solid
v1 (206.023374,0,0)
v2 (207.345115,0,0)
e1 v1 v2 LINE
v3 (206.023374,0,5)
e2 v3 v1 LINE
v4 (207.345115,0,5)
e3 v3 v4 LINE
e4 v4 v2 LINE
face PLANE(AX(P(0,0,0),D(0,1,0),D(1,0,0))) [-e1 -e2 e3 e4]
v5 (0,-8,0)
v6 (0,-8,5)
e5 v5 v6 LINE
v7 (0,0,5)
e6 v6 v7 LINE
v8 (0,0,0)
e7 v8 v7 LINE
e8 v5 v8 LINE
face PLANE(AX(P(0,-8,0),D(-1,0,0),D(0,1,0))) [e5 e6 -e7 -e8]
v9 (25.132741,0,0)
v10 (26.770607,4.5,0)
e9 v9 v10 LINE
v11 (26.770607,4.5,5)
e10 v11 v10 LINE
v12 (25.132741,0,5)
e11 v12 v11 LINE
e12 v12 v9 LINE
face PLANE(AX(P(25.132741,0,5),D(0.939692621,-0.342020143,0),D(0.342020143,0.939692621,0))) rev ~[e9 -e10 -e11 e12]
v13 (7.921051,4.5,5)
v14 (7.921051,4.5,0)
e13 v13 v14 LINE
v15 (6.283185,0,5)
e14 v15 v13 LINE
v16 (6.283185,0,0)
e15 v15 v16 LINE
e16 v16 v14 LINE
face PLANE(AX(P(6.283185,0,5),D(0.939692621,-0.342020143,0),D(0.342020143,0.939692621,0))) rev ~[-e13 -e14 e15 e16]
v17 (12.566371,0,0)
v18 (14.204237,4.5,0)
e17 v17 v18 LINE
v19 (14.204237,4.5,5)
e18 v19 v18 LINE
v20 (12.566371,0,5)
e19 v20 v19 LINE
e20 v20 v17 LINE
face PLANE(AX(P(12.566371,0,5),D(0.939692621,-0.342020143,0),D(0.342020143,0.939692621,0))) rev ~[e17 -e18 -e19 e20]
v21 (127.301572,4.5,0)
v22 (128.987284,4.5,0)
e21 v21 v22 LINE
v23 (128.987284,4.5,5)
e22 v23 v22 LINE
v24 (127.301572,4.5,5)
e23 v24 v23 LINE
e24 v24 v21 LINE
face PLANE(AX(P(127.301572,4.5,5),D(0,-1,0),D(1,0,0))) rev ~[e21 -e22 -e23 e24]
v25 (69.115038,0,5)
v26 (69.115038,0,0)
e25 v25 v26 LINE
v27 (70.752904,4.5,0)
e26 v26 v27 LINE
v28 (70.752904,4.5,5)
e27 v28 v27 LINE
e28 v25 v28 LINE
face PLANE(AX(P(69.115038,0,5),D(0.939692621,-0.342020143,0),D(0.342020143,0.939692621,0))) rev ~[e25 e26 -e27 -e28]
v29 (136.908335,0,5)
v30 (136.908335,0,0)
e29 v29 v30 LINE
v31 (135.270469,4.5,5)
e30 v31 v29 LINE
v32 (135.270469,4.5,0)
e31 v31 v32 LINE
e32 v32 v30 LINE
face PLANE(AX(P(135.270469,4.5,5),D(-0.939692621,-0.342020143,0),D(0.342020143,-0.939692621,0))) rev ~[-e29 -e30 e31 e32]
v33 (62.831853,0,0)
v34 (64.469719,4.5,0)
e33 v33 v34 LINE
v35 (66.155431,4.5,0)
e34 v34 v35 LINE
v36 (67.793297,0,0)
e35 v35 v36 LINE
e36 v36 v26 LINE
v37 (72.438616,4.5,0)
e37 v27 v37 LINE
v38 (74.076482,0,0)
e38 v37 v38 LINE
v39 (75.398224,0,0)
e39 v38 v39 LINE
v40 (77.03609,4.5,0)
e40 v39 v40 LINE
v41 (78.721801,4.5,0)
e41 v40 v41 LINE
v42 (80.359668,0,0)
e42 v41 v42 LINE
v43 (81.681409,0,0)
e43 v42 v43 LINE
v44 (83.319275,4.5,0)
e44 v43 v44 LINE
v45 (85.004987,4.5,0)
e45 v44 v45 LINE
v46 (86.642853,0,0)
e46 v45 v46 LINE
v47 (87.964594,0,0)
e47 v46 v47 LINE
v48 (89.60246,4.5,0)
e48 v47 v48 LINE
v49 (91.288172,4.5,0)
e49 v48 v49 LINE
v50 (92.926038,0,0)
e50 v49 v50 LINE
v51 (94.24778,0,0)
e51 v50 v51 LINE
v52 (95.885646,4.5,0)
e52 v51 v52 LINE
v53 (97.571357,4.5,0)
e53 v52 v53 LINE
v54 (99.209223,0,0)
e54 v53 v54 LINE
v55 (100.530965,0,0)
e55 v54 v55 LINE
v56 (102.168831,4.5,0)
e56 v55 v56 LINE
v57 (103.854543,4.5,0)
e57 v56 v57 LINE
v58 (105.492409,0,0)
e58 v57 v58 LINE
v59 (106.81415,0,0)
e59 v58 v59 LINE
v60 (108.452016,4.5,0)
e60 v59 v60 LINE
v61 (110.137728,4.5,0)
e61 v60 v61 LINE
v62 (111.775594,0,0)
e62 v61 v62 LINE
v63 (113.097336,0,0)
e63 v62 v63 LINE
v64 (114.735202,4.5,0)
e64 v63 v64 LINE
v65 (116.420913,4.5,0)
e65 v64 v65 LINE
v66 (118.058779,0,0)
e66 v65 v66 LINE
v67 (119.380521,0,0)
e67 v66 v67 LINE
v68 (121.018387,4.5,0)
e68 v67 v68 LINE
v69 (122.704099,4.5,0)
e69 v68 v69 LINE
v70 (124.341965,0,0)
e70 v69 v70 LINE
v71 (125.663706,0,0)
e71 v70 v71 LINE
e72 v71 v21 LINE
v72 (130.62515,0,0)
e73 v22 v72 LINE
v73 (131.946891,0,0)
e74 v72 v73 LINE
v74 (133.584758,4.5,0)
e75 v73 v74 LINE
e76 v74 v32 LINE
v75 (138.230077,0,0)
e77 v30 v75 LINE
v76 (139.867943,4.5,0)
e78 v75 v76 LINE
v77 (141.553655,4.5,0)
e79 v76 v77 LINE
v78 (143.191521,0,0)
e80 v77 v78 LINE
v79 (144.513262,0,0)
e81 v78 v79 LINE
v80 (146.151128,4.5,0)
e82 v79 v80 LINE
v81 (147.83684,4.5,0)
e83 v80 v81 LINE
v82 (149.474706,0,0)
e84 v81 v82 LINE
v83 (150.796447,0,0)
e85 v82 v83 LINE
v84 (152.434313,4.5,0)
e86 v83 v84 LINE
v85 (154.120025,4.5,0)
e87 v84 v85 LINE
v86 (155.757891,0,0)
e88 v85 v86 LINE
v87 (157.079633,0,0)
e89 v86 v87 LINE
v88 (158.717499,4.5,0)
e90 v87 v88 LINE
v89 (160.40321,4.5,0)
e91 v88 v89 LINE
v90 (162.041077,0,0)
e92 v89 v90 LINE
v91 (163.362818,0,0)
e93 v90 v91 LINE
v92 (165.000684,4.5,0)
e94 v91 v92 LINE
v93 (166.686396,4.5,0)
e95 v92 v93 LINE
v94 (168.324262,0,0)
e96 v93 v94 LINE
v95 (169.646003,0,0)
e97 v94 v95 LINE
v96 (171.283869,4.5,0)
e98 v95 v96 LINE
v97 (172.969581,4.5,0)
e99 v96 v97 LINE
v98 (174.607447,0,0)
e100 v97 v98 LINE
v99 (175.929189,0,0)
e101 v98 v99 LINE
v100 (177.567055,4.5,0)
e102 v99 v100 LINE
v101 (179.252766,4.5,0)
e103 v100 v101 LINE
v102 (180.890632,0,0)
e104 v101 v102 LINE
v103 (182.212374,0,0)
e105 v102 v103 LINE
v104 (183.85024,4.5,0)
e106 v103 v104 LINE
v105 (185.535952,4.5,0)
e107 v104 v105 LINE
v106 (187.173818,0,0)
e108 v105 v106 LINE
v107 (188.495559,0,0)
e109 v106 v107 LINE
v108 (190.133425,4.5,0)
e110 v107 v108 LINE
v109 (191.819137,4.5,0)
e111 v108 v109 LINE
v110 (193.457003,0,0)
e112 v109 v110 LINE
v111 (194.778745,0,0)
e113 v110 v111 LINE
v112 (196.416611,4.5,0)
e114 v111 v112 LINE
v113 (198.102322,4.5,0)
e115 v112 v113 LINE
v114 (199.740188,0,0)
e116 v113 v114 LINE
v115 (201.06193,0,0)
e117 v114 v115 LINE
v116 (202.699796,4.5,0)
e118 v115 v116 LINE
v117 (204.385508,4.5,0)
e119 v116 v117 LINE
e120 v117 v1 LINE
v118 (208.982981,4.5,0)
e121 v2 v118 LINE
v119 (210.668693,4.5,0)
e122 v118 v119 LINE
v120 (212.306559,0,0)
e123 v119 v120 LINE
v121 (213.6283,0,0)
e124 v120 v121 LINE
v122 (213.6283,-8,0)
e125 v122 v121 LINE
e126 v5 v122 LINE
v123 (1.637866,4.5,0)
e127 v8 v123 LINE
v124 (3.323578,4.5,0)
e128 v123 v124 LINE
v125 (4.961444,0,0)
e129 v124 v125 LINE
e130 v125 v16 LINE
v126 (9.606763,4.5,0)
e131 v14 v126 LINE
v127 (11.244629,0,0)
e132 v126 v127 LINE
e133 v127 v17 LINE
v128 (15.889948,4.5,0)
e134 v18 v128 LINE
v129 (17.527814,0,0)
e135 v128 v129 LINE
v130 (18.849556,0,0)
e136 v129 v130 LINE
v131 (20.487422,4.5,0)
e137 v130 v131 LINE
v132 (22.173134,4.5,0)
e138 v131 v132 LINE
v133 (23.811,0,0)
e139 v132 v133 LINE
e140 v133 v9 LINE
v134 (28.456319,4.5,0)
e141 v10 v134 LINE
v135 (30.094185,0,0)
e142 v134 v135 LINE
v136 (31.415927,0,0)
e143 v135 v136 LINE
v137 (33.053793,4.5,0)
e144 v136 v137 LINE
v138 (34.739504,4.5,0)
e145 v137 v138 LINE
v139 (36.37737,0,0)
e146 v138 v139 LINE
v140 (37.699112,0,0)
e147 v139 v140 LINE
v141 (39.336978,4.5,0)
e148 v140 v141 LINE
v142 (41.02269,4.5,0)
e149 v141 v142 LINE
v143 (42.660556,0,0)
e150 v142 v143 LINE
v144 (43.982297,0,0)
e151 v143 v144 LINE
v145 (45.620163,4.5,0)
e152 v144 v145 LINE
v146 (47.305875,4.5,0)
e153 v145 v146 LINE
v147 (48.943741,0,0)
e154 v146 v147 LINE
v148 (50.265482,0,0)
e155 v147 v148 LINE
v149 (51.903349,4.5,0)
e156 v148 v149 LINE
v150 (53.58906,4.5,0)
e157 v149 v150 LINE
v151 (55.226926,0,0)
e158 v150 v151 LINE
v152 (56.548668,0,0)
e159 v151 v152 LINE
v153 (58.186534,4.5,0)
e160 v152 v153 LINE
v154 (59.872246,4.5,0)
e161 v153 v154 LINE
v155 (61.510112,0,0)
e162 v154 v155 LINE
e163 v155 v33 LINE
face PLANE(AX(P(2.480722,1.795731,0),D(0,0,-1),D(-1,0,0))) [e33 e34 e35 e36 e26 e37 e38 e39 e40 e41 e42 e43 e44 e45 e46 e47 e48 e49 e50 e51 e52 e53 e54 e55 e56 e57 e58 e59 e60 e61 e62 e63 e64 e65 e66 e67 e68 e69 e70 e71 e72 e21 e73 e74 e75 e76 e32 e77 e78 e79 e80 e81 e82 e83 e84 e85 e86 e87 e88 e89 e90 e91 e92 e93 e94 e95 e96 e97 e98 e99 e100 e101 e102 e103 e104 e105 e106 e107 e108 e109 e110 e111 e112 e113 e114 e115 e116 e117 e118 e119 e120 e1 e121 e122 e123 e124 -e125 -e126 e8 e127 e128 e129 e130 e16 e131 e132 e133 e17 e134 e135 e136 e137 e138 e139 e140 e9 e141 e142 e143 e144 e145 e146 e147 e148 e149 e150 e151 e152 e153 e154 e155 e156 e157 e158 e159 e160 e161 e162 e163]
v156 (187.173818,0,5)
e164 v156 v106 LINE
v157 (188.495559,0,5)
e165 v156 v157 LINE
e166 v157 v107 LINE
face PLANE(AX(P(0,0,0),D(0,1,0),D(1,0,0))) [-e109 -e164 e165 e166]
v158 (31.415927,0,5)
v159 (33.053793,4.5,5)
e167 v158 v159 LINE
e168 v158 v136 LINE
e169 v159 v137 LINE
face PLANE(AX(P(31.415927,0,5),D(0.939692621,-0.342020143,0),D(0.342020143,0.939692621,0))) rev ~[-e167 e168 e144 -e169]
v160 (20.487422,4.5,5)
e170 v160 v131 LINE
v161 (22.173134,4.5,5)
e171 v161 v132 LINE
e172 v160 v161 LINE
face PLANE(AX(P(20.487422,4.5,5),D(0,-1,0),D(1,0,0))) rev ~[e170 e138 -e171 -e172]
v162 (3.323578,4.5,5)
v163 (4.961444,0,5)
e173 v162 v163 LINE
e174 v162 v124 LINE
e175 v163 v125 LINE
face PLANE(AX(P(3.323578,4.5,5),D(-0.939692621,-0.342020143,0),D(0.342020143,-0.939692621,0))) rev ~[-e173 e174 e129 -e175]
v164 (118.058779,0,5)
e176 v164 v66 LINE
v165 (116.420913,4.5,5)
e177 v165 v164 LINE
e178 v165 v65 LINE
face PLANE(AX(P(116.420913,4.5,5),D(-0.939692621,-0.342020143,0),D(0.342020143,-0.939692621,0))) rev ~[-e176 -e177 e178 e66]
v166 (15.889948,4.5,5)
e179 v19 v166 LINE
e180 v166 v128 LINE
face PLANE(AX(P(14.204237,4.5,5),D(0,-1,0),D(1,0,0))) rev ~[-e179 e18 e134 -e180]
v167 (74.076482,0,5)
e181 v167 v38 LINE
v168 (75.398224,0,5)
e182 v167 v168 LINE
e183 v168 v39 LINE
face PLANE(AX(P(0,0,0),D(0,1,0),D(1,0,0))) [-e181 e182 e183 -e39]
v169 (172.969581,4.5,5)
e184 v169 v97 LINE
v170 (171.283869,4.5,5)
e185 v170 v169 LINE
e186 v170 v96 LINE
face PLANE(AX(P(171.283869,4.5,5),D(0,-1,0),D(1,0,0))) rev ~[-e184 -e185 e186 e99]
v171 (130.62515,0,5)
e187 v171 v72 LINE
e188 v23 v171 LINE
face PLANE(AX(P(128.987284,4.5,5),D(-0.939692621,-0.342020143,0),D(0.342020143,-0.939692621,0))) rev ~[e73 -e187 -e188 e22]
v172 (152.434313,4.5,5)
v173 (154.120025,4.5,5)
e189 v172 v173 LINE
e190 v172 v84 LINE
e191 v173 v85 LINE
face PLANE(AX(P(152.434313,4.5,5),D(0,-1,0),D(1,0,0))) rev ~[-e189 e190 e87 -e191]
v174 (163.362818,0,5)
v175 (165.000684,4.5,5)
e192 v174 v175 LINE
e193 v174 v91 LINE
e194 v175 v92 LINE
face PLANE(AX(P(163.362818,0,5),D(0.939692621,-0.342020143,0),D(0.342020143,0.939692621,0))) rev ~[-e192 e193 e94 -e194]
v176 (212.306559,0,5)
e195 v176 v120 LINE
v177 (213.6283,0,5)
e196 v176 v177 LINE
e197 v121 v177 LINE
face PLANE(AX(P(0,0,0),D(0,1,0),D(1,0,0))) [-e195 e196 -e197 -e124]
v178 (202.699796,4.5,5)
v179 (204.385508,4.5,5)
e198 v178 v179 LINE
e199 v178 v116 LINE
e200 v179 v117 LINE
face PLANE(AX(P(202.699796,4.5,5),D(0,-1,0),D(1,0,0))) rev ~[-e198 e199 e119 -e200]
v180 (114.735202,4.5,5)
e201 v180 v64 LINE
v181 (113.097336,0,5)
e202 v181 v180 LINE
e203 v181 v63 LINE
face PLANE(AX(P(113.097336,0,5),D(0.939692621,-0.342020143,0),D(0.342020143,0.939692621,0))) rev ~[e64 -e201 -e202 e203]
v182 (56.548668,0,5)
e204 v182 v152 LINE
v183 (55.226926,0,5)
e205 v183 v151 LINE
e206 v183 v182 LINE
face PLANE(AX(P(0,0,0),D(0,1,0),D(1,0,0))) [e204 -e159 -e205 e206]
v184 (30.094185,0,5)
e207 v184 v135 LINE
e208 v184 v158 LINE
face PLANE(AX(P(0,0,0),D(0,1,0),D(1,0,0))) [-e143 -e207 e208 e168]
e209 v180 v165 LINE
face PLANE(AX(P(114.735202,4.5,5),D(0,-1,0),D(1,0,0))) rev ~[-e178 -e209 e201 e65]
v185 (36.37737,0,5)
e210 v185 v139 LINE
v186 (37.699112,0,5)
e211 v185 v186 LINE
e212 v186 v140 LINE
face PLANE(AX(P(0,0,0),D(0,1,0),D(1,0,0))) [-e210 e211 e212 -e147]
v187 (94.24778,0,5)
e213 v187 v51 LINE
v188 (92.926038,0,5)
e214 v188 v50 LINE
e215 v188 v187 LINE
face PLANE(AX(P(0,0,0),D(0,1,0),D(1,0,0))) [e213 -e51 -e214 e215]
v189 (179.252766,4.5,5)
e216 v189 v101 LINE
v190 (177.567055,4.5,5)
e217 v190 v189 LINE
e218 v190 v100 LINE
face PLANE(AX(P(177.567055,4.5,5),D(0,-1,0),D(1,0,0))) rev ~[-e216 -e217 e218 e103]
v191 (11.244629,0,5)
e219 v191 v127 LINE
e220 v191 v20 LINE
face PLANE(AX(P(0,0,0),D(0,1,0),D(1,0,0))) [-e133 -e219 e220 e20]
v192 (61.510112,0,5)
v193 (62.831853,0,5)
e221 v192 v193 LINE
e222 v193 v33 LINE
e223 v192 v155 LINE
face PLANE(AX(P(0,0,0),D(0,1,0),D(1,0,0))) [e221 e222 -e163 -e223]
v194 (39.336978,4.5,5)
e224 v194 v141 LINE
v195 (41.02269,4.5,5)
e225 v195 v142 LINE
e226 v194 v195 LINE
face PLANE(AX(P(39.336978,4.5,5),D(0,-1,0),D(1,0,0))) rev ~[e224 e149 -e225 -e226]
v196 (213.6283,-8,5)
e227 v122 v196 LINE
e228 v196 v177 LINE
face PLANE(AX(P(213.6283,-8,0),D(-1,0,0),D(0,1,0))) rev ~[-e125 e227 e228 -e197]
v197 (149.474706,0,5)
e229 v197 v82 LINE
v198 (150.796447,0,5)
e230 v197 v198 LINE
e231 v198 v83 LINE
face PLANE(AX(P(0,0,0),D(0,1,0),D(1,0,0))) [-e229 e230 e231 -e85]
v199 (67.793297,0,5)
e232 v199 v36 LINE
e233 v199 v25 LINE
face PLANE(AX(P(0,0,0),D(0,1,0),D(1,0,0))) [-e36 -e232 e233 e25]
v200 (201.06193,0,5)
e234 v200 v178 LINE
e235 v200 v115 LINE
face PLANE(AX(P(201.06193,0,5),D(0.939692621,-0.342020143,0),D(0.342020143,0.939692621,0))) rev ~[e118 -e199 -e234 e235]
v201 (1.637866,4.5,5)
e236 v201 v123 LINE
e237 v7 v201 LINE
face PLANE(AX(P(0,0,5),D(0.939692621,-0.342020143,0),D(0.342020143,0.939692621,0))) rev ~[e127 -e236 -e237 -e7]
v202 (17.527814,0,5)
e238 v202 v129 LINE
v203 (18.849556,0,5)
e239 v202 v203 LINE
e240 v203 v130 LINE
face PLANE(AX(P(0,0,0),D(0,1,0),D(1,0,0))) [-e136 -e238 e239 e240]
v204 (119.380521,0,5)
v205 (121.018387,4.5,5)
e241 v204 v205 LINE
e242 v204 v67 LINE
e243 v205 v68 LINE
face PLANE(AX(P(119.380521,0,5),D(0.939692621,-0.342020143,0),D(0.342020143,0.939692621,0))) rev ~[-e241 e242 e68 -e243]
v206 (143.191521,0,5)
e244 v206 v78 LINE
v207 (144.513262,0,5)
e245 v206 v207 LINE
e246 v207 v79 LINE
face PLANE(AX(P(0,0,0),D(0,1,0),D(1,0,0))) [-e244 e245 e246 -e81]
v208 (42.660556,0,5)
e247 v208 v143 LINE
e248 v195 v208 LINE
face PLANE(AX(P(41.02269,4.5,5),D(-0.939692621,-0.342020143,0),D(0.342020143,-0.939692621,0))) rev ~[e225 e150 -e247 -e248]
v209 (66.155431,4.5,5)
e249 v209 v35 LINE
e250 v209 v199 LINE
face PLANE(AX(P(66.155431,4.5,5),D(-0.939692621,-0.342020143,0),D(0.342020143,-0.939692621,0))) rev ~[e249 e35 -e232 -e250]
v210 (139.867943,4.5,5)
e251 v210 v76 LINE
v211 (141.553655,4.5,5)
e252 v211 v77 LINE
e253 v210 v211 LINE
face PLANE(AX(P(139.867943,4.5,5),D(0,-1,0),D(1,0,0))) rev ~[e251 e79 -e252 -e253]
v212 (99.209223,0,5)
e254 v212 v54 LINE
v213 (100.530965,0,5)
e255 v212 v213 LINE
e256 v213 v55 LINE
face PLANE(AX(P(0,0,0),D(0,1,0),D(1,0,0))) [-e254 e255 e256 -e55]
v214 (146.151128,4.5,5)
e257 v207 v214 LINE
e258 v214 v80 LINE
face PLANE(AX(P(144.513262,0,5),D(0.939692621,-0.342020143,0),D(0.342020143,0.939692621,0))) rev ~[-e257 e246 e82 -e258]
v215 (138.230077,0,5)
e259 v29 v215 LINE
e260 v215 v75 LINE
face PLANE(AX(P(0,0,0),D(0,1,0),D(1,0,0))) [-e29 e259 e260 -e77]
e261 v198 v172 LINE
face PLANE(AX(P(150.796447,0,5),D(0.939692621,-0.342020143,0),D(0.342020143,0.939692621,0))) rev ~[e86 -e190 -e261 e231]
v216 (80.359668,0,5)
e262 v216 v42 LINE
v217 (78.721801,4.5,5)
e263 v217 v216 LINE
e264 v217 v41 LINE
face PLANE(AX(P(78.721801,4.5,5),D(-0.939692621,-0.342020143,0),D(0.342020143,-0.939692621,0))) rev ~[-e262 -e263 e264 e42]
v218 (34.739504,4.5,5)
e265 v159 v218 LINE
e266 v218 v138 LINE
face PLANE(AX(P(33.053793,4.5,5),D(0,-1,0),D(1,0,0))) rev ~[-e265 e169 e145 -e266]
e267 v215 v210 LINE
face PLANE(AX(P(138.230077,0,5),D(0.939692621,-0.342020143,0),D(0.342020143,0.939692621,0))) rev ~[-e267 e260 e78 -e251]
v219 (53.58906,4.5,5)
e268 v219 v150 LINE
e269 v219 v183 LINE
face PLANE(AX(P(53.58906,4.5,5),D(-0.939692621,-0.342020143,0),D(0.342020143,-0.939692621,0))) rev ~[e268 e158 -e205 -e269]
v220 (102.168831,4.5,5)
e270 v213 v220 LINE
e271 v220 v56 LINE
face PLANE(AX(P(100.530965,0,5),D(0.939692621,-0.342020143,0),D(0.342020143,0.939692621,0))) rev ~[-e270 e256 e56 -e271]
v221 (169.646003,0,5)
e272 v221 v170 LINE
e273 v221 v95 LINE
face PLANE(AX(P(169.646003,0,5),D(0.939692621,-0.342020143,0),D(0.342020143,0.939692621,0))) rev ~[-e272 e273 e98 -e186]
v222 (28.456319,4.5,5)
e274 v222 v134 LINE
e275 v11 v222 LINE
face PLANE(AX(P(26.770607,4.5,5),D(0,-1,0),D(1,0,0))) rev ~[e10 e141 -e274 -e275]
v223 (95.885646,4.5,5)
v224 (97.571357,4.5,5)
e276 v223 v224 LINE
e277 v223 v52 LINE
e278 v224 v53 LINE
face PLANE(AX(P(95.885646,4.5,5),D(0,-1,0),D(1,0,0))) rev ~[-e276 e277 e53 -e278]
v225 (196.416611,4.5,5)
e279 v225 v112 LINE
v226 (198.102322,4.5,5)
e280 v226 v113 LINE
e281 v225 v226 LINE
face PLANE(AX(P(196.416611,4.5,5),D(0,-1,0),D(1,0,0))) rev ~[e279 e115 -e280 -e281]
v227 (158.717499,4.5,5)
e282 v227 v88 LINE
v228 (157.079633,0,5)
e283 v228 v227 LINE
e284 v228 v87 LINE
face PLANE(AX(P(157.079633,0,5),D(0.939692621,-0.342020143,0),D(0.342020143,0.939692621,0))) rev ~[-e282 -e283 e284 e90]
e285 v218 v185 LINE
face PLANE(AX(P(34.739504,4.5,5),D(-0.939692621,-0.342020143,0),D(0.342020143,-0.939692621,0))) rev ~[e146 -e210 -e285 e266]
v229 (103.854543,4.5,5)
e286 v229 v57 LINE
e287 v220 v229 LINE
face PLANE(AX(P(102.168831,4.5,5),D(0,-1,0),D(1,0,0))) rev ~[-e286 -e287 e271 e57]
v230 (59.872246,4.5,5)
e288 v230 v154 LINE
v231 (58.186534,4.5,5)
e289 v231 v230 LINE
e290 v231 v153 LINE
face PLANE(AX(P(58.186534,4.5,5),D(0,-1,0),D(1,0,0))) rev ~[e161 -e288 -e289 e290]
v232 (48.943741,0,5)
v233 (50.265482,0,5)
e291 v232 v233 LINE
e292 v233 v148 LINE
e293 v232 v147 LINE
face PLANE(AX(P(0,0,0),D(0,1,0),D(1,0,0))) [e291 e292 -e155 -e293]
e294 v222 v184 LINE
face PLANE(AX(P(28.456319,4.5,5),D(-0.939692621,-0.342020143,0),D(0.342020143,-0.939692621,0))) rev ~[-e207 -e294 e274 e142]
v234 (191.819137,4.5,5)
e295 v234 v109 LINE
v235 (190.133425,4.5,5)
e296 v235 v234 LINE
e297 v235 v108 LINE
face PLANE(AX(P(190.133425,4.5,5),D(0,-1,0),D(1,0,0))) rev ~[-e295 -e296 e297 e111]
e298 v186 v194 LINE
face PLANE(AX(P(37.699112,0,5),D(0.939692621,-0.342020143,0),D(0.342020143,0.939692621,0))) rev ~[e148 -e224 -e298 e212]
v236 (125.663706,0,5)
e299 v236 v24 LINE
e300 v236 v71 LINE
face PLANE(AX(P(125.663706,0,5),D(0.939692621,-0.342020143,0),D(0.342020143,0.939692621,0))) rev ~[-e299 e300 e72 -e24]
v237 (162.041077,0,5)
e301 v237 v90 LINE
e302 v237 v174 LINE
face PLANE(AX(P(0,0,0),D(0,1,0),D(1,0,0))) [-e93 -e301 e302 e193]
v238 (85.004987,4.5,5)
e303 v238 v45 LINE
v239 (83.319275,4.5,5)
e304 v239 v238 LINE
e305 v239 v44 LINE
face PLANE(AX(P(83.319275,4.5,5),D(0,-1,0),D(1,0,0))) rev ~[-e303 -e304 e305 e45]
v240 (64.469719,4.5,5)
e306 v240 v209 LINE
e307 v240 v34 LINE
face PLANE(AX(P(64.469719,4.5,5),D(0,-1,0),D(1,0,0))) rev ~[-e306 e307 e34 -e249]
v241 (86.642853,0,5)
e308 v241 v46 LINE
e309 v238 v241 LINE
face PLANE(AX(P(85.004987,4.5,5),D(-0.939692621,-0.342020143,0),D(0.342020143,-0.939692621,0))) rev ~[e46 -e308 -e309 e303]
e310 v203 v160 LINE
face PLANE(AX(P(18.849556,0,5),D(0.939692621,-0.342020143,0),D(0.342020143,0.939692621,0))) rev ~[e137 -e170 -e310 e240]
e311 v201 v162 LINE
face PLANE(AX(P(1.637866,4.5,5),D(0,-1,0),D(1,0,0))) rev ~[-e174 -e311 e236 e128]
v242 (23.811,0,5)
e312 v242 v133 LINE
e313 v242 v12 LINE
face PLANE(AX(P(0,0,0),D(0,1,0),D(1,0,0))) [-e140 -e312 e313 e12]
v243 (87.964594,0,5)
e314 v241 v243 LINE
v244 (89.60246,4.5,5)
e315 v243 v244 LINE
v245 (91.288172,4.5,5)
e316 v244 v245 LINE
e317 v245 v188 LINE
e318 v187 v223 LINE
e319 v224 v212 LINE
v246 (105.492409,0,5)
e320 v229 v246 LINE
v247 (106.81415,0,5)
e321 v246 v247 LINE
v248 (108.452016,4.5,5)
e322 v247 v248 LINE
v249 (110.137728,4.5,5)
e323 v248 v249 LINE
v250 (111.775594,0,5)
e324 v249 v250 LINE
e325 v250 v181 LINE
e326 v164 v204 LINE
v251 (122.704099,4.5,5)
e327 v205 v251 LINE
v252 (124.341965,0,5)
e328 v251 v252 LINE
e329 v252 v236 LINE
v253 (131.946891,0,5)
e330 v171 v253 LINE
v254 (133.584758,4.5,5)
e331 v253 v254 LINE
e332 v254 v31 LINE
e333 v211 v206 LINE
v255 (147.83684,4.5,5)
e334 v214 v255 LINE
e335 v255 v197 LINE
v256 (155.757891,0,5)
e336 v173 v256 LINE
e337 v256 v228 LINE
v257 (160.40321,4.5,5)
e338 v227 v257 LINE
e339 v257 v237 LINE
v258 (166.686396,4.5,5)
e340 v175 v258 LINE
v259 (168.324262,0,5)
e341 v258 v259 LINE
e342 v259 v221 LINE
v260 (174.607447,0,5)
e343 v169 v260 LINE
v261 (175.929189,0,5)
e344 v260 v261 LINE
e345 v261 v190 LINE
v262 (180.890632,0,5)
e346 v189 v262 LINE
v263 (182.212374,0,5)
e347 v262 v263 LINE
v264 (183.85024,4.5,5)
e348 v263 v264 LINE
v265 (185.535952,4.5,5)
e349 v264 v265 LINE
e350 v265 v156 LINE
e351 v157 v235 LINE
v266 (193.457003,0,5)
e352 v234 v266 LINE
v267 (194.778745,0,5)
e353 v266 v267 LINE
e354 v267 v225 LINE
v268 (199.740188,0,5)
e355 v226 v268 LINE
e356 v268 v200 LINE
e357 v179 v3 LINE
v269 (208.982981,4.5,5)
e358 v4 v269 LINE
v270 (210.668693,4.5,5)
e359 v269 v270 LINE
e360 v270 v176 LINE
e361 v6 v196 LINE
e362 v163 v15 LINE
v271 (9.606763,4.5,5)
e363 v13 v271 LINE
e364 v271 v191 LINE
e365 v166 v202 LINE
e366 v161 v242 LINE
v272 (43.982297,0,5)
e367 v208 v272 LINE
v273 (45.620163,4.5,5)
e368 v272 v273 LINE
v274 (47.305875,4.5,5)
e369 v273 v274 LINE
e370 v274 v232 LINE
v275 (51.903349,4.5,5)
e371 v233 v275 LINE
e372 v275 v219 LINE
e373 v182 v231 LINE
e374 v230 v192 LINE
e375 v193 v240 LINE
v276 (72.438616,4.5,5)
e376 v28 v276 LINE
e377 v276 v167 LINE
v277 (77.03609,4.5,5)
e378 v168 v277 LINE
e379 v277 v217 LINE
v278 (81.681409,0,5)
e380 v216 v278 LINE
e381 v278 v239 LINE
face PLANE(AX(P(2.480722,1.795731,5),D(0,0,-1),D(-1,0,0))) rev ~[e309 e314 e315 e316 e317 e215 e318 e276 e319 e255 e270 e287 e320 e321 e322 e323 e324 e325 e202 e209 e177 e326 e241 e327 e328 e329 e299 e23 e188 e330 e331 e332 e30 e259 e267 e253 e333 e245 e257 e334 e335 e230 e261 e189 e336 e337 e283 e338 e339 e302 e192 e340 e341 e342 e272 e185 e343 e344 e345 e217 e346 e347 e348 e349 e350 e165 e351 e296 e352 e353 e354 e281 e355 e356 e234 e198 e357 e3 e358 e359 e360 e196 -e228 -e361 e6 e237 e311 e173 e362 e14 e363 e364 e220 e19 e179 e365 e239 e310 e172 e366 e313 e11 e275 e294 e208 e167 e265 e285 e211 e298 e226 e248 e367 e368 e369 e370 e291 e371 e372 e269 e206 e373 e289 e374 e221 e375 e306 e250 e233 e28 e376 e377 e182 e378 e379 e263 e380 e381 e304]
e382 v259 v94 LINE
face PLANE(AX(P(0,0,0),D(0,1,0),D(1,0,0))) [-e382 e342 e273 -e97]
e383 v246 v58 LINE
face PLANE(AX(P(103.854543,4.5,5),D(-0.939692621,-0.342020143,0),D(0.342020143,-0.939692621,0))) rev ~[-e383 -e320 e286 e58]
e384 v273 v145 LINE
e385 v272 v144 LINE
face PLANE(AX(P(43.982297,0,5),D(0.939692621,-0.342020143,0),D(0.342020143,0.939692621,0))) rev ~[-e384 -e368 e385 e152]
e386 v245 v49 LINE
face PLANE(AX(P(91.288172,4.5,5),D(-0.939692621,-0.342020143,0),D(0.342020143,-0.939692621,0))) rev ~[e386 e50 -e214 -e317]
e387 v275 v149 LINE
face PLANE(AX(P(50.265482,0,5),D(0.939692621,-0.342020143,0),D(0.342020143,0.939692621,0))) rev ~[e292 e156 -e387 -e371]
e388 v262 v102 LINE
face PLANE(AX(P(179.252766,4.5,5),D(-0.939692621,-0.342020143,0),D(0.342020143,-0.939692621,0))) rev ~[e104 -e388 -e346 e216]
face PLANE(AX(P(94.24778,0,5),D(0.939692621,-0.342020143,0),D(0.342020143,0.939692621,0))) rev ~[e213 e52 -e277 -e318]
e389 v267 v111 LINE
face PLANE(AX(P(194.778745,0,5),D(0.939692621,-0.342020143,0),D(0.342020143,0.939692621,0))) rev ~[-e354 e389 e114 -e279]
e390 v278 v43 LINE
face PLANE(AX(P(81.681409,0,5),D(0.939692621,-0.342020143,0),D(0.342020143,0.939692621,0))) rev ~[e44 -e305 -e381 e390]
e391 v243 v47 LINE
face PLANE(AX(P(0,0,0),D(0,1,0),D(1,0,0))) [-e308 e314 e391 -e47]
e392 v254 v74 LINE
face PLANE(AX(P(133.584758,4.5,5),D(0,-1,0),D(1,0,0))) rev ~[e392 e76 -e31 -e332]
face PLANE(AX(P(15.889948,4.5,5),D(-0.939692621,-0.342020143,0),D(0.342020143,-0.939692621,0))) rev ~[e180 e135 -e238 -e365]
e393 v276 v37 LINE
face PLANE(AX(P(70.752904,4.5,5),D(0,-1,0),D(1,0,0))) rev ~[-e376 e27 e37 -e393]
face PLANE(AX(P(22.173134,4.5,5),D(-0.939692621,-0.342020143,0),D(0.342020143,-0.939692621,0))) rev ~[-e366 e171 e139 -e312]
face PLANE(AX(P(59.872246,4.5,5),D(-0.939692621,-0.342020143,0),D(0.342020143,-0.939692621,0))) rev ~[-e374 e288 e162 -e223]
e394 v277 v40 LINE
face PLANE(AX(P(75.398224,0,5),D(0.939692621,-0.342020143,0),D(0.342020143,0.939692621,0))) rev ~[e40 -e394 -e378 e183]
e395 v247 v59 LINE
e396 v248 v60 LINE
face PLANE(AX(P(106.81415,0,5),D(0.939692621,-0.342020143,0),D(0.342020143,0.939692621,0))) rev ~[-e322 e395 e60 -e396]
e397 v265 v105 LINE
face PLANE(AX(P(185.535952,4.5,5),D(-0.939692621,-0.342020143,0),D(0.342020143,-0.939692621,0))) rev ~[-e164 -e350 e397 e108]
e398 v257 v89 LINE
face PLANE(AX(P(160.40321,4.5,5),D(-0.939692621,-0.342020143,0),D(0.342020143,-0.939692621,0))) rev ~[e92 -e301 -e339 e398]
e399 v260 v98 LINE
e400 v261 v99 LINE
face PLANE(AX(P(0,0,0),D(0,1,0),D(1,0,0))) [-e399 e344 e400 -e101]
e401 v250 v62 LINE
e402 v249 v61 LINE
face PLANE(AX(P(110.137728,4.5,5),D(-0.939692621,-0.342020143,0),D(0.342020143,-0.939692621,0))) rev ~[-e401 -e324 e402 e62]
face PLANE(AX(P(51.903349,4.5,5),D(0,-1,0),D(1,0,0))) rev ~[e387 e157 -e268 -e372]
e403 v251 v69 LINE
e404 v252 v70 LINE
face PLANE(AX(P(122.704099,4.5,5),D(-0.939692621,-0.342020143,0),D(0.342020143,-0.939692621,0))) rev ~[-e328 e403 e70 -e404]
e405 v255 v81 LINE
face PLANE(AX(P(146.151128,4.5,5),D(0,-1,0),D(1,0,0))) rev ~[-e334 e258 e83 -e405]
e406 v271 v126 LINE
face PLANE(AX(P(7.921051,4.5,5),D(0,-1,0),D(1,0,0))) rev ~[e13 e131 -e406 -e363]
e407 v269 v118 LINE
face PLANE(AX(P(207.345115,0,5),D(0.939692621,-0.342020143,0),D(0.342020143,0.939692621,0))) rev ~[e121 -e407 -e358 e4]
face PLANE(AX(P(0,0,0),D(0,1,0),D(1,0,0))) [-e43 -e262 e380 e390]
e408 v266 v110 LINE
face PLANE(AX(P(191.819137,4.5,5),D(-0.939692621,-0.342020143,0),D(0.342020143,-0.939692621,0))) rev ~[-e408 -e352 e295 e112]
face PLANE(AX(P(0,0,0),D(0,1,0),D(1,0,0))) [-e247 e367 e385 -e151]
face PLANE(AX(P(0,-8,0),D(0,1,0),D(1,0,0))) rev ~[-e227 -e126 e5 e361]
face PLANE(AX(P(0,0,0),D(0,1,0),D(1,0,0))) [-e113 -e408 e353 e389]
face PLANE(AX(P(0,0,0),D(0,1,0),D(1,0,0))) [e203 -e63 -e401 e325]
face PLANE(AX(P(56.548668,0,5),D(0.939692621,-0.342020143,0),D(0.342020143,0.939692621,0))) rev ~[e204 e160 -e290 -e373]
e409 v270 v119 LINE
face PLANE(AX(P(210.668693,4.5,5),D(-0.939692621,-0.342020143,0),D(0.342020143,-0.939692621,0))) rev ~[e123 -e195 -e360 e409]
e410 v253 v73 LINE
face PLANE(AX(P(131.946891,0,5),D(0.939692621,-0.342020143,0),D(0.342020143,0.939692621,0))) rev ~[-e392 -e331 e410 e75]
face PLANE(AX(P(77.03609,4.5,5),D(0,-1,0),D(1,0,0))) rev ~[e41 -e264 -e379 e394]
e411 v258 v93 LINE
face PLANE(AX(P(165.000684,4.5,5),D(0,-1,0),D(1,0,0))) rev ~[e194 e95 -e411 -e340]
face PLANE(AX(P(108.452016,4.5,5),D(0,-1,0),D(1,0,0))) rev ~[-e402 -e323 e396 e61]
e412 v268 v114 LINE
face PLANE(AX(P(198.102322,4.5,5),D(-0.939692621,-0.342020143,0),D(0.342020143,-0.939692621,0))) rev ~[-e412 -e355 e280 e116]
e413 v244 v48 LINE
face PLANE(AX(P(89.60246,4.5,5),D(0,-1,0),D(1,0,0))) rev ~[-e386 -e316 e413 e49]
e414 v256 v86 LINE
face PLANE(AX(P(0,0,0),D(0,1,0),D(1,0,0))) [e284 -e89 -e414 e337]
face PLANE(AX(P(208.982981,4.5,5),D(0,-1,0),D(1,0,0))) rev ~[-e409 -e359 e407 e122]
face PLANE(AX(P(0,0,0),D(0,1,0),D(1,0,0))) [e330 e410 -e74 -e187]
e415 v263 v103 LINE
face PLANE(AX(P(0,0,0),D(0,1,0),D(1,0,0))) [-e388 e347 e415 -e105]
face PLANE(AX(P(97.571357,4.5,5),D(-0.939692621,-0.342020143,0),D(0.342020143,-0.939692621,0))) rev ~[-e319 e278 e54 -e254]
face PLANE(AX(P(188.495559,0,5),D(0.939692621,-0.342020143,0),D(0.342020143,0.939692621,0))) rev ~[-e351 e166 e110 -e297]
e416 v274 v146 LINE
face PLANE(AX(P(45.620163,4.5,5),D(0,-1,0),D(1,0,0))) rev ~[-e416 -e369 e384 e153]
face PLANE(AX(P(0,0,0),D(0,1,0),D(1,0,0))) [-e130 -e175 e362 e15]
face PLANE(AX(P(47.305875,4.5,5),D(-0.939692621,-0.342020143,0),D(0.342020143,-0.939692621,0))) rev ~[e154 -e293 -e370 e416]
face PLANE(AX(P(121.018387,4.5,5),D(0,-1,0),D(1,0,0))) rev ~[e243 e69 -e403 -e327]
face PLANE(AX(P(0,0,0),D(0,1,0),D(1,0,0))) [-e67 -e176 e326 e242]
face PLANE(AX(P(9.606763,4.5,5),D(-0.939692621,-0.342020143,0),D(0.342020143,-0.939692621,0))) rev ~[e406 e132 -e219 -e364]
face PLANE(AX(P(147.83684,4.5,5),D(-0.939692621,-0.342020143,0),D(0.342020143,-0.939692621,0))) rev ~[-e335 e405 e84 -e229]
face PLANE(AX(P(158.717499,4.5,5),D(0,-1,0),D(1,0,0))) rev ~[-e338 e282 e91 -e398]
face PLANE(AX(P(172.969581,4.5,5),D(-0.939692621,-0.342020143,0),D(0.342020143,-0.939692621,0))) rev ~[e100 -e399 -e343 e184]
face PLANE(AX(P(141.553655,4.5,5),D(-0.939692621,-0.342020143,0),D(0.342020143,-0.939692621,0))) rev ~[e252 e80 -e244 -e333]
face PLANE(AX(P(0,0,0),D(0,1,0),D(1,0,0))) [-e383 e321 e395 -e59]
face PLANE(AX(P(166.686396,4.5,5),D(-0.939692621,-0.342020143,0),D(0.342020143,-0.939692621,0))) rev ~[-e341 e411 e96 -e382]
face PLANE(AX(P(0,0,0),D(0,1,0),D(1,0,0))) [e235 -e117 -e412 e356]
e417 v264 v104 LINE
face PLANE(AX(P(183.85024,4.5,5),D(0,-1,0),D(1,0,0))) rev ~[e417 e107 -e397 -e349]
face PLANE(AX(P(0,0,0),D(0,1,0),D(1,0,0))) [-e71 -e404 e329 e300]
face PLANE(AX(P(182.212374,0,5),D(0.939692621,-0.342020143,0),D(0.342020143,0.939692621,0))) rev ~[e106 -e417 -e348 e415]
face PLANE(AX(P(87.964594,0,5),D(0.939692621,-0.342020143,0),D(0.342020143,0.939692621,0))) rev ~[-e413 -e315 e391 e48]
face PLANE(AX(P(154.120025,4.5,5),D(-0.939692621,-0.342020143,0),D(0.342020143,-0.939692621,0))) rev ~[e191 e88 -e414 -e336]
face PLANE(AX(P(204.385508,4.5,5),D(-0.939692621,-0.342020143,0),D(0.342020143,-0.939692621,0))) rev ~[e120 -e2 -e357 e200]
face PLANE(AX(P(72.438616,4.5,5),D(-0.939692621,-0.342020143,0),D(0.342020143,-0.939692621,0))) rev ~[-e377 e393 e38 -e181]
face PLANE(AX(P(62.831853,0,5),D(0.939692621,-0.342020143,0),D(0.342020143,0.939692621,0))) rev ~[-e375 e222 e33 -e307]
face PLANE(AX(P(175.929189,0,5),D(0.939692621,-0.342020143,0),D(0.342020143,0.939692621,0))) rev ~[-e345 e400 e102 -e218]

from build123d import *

# Parameters (mm, degrees)
SKETCH1_W       = 213.628300444
SKETCH1_H       = 8
EXTRUDE1_DEPTH  = 5
EXTRUDE2_DEPTH  = 5
LPATTERN1_COUNT = 34
LPATTERN1_PITCH = 6.283185307


with BuildPart() as part:
    # Sketch1 → Extrude1 (new body)
    with BuildSketch(Plane.XY):
        with Locations((106.814150222, -4)):
            Rectangle(SKETCH1_W, SKETCH1_H)
    extrude(amount=EXTRUDE1_DEPTH)

    # Sketch2 → Extrude2 (add)
    with BuildSketch(Plane.XY.offset(5)):
        Polygon((0, 0), (1.637866054, 4.5), (3.323577771, 4.5), (4.961443825, 0), align=None)
    extrude2 = extrude(amount=-EXTRUDE2_DEPTH)

    # LPattern1: Extrude2 ×34
    with Locations(*[(i * LPATTERN1_PITCH, 0, 0) for i in range(1, LPATTERN1_COUNT)]):
        add(extrude2)


solid = part.part
